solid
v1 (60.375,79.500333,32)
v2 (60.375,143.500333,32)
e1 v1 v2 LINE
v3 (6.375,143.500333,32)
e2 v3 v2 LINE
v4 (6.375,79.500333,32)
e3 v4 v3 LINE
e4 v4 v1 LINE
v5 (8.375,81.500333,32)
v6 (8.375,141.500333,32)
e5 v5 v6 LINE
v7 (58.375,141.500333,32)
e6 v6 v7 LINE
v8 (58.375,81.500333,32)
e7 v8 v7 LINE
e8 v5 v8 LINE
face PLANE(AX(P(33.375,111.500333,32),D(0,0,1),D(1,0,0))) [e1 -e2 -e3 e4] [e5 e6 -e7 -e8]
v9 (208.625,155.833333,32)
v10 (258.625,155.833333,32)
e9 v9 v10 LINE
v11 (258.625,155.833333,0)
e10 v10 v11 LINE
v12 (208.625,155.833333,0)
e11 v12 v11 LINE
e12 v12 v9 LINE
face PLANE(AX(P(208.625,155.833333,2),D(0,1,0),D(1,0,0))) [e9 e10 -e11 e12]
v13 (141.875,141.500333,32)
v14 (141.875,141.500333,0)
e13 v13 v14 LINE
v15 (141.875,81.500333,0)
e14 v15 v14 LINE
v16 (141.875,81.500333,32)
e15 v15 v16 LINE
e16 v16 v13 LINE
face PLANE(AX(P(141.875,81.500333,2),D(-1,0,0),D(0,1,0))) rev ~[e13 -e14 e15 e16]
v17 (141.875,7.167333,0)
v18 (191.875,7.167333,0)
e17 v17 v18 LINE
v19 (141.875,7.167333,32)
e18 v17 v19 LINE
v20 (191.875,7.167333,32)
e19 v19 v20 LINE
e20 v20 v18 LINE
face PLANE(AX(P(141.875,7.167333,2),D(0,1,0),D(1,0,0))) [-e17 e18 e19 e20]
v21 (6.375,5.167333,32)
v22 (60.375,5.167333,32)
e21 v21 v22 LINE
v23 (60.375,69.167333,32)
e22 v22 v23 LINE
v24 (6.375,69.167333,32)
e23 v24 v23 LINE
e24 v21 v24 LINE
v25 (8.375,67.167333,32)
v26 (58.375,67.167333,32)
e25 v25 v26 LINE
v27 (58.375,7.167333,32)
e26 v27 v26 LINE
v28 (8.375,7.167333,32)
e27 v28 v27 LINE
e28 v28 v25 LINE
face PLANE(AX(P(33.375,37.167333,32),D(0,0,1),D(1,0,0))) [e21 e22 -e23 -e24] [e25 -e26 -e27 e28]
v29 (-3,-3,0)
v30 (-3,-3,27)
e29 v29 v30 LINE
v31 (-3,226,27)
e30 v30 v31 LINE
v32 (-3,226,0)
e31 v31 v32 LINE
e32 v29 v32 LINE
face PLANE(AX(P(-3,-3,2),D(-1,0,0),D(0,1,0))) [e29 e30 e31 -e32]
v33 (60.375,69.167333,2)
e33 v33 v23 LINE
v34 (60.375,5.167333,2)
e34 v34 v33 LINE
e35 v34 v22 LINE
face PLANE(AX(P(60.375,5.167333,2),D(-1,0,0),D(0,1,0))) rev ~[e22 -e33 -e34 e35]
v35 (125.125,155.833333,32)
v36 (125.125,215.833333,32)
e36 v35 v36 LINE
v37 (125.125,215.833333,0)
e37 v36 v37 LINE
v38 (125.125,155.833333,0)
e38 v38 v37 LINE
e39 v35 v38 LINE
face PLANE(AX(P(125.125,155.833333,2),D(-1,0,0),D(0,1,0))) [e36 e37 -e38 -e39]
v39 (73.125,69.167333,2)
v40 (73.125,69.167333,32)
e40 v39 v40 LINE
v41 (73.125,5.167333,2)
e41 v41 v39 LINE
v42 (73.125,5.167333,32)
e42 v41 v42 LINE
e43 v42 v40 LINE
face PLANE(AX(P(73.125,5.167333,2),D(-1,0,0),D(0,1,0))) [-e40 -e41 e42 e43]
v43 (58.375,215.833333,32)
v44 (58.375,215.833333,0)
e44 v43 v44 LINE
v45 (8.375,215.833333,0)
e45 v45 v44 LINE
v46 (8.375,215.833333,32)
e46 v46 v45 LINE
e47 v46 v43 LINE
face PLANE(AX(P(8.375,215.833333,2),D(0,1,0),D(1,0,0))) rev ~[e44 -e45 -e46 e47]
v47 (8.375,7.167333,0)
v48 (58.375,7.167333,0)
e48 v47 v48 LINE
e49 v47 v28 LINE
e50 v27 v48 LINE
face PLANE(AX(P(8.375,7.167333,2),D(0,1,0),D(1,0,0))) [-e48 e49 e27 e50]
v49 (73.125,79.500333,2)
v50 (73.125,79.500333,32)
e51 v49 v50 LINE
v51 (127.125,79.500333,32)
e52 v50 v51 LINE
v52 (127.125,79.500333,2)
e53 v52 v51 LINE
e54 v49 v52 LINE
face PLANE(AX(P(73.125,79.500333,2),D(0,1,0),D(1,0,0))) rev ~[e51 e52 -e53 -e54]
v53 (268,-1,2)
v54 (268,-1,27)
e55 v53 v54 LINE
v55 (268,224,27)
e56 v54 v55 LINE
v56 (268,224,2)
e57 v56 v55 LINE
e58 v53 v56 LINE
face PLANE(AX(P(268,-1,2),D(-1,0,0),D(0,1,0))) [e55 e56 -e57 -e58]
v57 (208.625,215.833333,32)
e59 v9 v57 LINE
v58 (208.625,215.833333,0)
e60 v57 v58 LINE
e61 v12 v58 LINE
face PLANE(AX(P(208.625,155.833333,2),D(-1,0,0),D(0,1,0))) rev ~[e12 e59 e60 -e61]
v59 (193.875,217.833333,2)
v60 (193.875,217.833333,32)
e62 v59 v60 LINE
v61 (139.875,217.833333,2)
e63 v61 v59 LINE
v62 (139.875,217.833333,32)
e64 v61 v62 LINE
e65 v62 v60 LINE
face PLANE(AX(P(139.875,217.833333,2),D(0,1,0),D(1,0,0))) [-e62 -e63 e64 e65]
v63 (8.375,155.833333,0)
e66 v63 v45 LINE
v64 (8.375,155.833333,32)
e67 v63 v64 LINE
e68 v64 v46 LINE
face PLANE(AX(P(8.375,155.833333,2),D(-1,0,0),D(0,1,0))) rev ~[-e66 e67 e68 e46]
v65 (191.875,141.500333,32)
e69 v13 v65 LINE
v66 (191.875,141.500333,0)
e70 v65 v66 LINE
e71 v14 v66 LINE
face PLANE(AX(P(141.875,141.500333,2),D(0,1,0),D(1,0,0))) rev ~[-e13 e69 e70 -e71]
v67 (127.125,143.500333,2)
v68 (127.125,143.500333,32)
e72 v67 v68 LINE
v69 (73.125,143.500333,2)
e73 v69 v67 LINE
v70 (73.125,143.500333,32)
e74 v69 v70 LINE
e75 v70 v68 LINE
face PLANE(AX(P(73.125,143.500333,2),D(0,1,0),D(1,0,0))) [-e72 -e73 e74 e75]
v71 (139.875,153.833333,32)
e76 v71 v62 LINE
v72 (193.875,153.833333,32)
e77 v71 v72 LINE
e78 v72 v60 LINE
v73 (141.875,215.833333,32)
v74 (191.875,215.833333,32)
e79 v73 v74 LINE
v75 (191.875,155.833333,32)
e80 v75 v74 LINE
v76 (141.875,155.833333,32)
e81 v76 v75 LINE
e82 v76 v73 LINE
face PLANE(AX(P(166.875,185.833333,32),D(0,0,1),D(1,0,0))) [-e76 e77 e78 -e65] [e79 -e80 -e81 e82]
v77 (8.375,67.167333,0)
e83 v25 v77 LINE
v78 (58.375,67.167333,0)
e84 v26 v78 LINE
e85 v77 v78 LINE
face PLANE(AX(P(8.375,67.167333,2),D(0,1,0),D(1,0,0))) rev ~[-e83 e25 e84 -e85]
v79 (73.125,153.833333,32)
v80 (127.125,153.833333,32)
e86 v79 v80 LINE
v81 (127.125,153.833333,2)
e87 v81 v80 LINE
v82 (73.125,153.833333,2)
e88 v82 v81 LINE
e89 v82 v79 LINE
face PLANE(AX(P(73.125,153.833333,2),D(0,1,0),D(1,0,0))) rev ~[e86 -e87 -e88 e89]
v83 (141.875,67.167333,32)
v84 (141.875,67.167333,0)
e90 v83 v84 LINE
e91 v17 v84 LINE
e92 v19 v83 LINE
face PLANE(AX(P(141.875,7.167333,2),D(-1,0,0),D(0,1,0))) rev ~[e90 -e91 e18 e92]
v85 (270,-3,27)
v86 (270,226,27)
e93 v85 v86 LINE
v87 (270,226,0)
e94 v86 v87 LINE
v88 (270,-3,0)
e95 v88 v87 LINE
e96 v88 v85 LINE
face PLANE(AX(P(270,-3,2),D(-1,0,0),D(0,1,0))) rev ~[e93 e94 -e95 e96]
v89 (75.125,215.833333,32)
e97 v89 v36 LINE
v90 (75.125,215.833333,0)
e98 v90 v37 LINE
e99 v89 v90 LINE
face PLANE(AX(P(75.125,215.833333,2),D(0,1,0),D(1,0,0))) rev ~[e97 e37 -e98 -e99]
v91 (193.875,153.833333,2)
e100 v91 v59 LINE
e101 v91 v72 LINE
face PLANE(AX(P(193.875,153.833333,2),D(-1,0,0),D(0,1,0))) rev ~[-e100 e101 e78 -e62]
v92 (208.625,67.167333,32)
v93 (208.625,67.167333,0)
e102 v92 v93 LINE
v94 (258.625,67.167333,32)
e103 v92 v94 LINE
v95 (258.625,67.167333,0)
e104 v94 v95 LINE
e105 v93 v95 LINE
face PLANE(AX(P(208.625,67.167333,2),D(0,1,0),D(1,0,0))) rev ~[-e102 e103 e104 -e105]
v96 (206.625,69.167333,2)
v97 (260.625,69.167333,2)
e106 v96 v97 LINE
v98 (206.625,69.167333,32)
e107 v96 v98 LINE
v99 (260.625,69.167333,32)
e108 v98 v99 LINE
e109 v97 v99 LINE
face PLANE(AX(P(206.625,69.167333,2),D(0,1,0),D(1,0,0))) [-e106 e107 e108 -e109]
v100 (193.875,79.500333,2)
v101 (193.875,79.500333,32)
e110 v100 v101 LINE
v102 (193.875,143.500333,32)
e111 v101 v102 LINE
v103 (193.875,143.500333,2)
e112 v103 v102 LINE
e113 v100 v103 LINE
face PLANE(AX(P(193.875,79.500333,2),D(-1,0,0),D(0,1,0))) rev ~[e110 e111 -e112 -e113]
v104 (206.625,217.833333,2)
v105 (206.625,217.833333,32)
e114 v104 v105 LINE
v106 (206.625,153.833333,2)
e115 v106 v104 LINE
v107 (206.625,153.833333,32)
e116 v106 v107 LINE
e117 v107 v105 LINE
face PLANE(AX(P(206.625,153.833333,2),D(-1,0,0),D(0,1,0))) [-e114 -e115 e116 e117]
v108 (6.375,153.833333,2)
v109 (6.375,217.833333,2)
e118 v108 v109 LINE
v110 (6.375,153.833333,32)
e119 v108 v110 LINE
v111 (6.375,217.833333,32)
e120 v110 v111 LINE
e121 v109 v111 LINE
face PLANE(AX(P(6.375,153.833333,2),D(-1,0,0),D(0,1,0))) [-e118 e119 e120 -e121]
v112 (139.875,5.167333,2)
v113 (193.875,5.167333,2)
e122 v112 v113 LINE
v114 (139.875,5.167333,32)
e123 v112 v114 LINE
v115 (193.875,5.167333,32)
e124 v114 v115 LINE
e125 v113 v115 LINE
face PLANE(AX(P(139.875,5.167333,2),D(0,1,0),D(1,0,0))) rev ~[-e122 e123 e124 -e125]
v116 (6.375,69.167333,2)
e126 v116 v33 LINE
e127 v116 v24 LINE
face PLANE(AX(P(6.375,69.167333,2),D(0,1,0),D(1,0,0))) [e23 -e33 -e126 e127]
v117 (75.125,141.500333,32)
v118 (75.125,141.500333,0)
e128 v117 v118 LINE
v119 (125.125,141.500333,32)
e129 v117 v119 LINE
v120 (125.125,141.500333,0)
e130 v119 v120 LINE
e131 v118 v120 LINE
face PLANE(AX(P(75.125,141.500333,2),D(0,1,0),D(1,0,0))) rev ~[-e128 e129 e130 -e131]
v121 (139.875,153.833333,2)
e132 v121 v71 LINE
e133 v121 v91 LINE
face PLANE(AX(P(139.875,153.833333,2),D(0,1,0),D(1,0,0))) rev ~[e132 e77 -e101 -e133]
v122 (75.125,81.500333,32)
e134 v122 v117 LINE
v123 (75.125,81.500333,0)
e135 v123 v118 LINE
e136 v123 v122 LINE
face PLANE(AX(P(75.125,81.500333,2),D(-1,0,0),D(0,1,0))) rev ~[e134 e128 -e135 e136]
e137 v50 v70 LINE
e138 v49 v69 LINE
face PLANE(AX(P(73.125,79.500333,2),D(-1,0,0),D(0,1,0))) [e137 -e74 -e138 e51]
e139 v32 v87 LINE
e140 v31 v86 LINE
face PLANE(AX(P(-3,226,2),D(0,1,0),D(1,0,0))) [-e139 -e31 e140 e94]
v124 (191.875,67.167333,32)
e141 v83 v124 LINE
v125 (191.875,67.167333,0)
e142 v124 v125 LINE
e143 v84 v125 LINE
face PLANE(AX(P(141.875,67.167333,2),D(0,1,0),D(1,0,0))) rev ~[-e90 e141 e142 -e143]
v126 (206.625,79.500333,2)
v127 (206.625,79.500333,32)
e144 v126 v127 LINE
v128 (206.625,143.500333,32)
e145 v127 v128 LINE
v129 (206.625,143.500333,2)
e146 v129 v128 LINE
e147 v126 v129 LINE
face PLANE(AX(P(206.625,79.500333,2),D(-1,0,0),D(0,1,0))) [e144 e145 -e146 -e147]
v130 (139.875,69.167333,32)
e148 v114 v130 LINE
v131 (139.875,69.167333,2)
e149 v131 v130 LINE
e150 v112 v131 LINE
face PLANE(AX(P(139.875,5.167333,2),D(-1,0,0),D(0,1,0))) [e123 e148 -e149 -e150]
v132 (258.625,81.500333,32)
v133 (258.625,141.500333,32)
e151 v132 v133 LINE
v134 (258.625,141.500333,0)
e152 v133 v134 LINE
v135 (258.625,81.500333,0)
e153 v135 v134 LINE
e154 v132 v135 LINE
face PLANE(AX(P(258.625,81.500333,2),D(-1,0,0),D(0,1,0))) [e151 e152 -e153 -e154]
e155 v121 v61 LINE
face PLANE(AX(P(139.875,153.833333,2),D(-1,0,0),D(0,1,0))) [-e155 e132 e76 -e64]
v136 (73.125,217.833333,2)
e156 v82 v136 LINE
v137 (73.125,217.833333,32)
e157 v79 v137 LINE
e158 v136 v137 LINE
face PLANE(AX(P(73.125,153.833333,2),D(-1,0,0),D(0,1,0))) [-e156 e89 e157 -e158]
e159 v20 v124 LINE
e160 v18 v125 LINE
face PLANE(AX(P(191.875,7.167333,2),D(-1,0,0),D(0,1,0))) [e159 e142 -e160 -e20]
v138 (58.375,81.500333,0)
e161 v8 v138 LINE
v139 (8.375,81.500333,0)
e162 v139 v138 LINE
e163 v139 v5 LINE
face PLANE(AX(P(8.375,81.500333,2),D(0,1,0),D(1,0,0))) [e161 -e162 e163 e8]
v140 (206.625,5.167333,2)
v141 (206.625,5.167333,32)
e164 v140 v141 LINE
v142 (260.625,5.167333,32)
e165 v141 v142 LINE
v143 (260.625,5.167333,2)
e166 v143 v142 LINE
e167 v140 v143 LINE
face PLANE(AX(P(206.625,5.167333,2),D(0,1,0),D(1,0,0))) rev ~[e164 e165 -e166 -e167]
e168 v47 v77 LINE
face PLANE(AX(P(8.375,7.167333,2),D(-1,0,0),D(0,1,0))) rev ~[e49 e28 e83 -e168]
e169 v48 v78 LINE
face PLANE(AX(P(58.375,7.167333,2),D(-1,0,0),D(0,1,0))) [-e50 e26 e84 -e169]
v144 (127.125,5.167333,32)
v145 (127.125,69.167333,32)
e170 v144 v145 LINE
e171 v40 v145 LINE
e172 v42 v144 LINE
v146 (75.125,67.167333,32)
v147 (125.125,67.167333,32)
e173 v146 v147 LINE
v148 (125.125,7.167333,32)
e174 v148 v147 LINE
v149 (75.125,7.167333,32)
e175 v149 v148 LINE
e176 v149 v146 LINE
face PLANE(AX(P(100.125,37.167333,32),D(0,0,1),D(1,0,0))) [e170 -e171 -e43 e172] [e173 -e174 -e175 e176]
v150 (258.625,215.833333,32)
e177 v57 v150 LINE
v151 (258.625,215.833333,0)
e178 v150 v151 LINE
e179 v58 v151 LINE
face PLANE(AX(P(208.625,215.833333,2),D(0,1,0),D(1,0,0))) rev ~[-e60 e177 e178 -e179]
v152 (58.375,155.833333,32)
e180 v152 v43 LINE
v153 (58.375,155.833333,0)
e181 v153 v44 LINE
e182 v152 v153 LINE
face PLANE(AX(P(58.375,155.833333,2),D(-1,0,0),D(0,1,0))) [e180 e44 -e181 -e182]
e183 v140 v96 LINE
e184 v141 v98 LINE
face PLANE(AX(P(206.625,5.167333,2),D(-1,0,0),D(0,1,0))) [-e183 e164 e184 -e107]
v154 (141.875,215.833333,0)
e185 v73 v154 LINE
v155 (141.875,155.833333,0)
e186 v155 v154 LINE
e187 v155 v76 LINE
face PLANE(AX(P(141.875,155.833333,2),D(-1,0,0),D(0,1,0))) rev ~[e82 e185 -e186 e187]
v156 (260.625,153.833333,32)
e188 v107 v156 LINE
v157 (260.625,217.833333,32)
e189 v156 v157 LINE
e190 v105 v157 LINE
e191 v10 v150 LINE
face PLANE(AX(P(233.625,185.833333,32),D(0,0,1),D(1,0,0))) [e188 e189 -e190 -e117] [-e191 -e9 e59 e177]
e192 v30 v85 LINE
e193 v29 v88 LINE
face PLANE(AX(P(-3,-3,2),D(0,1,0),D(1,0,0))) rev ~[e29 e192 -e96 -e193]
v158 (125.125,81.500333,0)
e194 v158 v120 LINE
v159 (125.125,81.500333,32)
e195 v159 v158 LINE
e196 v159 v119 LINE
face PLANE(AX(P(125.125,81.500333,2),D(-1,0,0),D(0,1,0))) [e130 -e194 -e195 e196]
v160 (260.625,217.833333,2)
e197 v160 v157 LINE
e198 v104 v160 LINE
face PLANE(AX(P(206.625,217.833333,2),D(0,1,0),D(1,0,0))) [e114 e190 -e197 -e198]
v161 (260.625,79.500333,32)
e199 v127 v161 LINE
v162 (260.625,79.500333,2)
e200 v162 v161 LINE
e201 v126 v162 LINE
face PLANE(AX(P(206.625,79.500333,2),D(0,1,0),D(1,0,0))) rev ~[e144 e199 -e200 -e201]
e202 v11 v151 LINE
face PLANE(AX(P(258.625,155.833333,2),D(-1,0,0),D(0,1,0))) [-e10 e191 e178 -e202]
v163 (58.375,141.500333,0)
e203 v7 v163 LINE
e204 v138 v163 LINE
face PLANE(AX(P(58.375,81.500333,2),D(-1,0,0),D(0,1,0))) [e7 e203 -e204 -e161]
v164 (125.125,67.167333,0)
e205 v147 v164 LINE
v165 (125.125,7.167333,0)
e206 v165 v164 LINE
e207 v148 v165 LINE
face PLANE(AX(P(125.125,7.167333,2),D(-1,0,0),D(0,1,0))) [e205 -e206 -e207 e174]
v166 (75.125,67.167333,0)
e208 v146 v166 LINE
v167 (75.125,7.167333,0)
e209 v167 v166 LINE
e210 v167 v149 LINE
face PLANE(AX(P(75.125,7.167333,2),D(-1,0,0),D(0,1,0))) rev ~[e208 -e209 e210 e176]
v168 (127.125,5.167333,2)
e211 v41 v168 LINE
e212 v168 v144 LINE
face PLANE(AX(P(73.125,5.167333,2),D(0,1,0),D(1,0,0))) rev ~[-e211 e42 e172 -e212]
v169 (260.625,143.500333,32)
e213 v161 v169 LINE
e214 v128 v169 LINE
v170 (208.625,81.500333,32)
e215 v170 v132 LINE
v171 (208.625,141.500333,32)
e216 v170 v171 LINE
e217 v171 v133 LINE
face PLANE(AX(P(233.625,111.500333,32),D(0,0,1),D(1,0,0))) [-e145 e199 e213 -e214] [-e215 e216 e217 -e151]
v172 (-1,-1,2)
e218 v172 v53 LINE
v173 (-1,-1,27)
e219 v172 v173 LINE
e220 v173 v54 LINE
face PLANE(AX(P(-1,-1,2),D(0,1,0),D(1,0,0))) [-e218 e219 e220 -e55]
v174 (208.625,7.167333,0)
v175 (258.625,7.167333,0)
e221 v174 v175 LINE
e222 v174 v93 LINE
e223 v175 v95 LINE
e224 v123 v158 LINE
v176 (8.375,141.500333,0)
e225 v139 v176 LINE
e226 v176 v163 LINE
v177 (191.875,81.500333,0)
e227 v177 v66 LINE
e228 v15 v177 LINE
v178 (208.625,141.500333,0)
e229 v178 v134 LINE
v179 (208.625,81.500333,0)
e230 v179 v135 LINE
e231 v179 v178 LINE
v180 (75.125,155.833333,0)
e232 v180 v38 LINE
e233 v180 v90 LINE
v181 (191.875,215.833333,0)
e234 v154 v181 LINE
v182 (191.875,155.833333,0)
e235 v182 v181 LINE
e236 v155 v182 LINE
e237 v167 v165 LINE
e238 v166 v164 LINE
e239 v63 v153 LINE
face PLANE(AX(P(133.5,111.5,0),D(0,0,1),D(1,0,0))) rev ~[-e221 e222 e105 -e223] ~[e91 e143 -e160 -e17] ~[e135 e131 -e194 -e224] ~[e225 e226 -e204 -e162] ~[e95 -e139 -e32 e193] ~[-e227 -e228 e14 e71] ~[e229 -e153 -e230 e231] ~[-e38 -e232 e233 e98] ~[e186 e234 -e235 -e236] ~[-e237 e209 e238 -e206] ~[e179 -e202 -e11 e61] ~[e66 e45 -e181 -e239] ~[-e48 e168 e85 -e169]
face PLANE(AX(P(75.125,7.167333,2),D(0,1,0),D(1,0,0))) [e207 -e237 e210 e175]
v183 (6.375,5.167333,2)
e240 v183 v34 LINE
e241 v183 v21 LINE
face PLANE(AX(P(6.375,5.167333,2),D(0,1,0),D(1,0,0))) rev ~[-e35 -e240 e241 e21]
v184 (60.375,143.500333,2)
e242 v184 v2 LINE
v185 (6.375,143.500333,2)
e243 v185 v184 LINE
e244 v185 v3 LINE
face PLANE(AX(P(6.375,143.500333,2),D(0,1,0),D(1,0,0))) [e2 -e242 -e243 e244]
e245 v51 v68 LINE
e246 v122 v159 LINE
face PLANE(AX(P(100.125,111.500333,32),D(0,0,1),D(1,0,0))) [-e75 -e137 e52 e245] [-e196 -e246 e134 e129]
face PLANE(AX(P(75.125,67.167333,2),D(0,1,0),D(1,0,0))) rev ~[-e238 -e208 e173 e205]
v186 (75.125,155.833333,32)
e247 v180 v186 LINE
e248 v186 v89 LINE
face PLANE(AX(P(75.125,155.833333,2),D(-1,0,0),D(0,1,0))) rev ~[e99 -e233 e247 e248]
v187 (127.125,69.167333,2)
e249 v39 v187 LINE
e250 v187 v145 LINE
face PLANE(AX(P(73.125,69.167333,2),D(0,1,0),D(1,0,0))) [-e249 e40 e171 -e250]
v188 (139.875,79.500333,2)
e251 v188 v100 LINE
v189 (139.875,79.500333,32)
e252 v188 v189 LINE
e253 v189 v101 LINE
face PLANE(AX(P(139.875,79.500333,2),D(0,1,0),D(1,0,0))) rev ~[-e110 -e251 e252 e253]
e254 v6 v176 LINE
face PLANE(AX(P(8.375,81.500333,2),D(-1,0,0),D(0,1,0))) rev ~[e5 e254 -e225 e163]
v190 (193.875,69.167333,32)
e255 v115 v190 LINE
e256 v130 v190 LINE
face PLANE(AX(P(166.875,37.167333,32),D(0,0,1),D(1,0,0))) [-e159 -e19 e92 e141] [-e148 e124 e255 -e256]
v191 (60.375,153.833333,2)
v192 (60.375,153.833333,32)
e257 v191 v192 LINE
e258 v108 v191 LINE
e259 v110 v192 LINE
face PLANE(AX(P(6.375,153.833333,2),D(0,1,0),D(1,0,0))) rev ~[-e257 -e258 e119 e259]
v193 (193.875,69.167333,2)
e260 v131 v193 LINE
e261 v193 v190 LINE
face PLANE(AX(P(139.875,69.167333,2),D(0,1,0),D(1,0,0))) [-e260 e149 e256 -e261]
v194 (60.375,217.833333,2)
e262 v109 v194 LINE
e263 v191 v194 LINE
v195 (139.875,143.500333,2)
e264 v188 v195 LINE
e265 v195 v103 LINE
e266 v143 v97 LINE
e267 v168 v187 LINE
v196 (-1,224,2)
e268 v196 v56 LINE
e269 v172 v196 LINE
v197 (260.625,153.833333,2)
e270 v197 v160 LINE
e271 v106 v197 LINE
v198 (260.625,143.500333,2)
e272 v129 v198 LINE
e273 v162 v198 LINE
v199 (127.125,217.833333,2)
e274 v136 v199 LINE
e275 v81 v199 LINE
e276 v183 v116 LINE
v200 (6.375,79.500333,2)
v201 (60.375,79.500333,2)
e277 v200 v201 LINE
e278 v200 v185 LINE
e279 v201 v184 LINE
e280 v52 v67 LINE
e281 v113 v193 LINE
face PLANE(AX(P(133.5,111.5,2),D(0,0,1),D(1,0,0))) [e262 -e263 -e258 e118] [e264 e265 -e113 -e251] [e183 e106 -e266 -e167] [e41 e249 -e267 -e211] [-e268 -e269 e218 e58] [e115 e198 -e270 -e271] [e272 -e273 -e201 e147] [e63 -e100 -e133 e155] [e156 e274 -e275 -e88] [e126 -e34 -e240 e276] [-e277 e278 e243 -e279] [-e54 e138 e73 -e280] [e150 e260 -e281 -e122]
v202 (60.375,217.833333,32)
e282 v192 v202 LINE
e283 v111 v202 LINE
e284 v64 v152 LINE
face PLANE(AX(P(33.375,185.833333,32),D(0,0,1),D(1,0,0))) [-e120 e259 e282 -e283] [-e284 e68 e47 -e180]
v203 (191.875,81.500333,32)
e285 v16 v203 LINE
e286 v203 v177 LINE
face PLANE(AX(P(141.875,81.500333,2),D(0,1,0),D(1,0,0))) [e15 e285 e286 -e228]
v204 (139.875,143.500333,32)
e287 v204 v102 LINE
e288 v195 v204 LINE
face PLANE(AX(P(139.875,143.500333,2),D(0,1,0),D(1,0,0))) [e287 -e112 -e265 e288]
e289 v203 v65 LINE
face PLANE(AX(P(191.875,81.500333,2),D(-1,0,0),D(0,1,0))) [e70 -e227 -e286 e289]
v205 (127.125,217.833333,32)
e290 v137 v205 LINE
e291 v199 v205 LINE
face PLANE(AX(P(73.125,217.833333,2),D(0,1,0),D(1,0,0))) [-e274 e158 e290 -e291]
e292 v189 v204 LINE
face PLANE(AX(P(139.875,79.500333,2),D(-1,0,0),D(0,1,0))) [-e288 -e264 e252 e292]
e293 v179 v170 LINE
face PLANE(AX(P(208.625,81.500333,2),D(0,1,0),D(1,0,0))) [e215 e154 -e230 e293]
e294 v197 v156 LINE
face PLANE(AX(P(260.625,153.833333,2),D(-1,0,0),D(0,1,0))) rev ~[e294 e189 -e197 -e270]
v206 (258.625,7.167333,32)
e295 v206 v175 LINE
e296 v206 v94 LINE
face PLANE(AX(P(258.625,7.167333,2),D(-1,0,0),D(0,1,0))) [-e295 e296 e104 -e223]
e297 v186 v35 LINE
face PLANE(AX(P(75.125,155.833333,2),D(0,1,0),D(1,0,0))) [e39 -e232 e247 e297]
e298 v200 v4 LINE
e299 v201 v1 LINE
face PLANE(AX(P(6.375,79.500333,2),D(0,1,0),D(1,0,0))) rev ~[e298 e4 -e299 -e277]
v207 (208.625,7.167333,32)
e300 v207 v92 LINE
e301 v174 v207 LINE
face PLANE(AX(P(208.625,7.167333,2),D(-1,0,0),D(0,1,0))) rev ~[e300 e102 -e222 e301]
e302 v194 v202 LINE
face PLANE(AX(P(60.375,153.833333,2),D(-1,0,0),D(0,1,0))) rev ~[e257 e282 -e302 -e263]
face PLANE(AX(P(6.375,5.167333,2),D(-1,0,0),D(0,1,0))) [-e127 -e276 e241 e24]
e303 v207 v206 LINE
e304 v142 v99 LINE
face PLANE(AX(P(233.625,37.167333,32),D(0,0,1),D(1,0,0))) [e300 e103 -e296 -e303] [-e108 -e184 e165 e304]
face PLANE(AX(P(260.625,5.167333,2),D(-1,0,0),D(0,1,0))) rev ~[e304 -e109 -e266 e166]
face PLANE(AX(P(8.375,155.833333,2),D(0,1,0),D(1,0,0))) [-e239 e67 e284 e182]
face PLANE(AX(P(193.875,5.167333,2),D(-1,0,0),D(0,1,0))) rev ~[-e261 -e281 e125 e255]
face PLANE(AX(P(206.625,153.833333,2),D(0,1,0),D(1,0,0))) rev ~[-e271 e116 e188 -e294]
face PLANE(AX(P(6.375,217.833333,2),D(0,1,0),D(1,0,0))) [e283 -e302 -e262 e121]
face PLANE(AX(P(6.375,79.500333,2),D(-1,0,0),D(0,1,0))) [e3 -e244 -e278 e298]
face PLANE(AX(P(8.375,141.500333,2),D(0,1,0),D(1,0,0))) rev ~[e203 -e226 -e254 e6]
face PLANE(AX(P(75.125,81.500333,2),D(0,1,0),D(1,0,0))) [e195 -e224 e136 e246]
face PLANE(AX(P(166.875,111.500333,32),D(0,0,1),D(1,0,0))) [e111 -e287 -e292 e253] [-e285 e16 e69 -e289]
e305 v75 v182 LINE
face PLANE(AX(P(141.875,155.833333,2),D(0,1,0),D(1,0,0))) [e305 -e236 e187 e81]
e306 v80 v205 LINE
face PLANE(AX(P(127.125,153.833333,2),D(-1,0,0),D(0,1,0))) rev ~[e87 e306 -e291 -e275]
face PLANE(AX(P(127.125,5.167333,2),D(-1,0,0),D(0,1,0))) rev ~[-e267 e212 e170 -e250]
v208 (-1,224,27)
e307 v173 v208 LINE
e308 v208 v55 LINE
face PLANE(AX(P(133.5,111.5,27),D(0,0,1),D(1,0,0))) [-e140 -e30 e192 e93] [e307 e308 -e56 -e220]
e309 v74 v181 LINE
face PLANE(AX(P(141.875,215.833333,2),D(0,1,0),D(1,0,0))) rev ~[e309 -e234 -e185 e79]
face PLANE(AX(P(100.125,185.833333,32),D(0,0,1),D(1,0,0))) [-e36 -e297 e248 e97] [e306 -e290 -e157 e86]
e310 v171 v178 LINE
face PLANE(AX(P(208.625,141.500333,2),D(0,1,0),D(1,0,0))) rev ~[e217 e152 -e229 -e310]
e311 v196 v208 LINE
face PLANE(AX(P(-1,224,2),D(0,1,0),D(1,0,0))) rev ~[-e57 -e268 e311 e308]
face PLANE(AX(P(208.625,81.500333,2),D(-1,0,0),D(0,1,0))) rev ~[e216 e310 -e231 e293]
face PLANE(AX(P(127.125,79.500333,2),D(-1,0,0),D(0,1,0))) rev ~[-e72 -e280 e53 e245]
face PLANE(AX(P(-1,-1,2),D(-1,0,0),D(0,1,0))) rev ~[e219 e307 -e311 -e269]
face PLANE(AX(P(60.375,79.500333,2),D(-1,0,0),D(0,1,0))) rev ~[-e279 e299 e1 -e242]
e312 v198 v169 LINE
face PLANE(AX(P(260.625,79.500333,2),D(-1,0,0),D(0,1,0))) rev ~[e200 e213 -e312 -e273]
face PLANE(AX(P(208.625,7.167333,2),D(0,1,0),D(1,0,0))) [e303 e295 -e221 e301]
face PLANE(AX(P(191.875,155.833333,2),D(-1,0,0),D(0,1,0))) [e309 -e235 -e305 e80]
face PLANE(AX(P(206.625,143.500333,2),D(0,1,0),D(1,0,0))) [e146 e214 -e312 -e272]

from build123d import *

# Parameters (mm, degrees)
F0_W     = 273
F0_H     = 229
F0_W_2   = 50
F0_H_2   = 60
F1_DEPTH = 2
F2_W     = 273
F2_H     = 229
F2_W_2   = 269
F2_H_2   = 225
F3_DEPTH = 25
F4_W     = 54
F4_H     = 64
F4_W_2   = 50
F4_H_2   = 60
F5_DEPTH = 30


with BuildPart() as f1:
    # F0 (on Top) → F1 (new body)
    with BuildSketch(Plane.XY):
        with Locations((133.5, 111.5)):
            Rectangle(F0_W, F0_H)
        with Locations((33.375, 37.167333)):
            Rectangle(F0_W_2, F0_H_2, mode=Mode.SUBTRACT)
        with Locations((100.125, 37.167333)):
            Rectangle(F0_W_2, F0_H_2, mode=Mode.SUBTRACT)
        with Locations((166.875, 37.167333)):
            Rectangle(F0_W_2, F0_H_2, mode=Mode.SUBTRACT)
        with Locations((233.625, 37.167333)):
            Rectangle(F0_W_2, F0_H_2, mode=Mode.SUBTRACT)
        with Locations((33.375, 111.500333)):
            Rectangle(F0_W_2, F0_H_2, mode=Mode.SUBTRACT)
        with Locations((100.125, 111.500333)):
            Rectangle(F0_W_2, F0_H_2, mode=Mode.SUBTRACT)
        with Locations((33.375, 185.833333)):
            Rectangle(F0_W_2, F0_H_2, mode=Mode.SUBTRACT)
        with Locations((100.125, 185.833333)):
            Rectangle(F0_W_2, F0_H_2, mode=Mode.SUBTRACT)
        with Locations((166.875, 111.500333)):
            Rectangle(F0_W_2, F0_H_2, mode=Mode.SUBTRACT)
        with Locations((233.625, 111.500333)):
            Rectangle(F0_W_2, F0_H_2, mode=Mode.SUBTRACT)
        with Locations((166.875, 185.833333)):
            Rectangle(F0_W_2, F0_H_2, mode=Mode.SUBTRACT)
        with Locations((233.625, 185.833333)):
            Rectangle(F0_W_2, F0_H_2, mode=Mode.SUBTRACT)
    extrude(amount=F1_DEPTH)

    # F2 (on face) → F3 (join)
    with BuildSketch(Plane.XY.offset(2)):
        with Locations((133.5, 111.5)):
            Rectangle(F2_W, F2_H)
        with Locations((133.5, 111.5)):
            Rectangle(F2_W_2, F2_H_2, mode=Mode.SUBTRACT)
    extrude(amount=F3_DEPTH)

    # F4 (on face) → F5 (join)
    with BuildSketch(Plane.XY.offset(2)):
        with Locations((33.375, 185.833333)):
            Rectangle(F4_W, F4_H)
        with Locations((33.375, 185.833333)):
            Rectangle(F4_W_2, F4_H_2, mode=Mode.SUBTRACT)
        with Locations((33.375, 111.500333)):
            Rectangle(F4_W, F4_H)
        with Locations((33.375, 111.500333)):
            Rectangle(F4_W_2, F4_H_2, mode=Mode.SUBTRACT)
        with Locations((33.375, 37.167333)):
            Rectangle(F4_W, F4_H)
        with Locations((33.375, 37.167333)):
            Rectangle(F4_W_2, F4_H_2, mode=Mode.SUBTRACT)
        with Locations((100.125, 185.833333)):
            Rectangle(F4_W, F4_H)
        with Locations((100.125, 185.833333)):
            Rectangle(F4_W_2, F4_H_2, mode=Mode.SUBTRACT)
        with Locations((100.125, 111.500333)):
            Rectangle(F4_W, F4_H)
        with Locations((100.125, 111.500333)):
            Rectangle(F4_W_2, F4_H_2, mode=Mode.SUBTRACT)
        with Locations((100.125, 37.167333)):
            Rectangle(F4_W, F4_H)
        with Locations((100.125, 37.167333)):
            Rectangle(F4_W_2, F4_H_2, mode=Mode.SUBTRACT)
        with Locations((166.875, 185.833333)):
            Rectangle(F4_W, F4_H)
        with Locations((166.875, 185.833333)):
            Rectangle(F4_W_2, F4_H_2, mode=Mode.SUBTRACT)
        with Locations((166.875, 111.500333)):
            Rectangle(F4_W, F4_H)
        with Locations((166.875, 111.500333)):
            Rectangle(F4_W_2, F4_H_2, mode=Mode.SUBTRACT)
        with Locations((166.875, 37.167333)):
            Rectangle(F4_W, F4_H)
        with Locations((166.875, 37.167333)):
            Rectangle(F4_W_2, F4_H_2, mode=Mode.SUBTRACT)
        with Locations((233.625, 185.833333)):
            Rectangle(F4_W, F4_H)
        with Locations((233.625, 185.833333)):
            Rectangle(F4_W_2, F4_H_2, mode=Mode.SUBTRACT)
        with Locations((233.625, 111.500333)):
            Rectangle(F4_W, F4_H)
        with Locations((233.625, 111.500333)):
            Rectangle(F4_W_2, F4_H_2, mode=Mode.SUBTRACT)
        with Locations((233.625, 37.167333)):
            Rectangle(F4_W, F4_H)
        with Locations((233.625, 37.167333)):
            Rectangle(F4_W_2, F4_H_2, mode=Mode.SUBTRACT)
    extrude(amount=F5_DEPTH)


solid = f1.part
